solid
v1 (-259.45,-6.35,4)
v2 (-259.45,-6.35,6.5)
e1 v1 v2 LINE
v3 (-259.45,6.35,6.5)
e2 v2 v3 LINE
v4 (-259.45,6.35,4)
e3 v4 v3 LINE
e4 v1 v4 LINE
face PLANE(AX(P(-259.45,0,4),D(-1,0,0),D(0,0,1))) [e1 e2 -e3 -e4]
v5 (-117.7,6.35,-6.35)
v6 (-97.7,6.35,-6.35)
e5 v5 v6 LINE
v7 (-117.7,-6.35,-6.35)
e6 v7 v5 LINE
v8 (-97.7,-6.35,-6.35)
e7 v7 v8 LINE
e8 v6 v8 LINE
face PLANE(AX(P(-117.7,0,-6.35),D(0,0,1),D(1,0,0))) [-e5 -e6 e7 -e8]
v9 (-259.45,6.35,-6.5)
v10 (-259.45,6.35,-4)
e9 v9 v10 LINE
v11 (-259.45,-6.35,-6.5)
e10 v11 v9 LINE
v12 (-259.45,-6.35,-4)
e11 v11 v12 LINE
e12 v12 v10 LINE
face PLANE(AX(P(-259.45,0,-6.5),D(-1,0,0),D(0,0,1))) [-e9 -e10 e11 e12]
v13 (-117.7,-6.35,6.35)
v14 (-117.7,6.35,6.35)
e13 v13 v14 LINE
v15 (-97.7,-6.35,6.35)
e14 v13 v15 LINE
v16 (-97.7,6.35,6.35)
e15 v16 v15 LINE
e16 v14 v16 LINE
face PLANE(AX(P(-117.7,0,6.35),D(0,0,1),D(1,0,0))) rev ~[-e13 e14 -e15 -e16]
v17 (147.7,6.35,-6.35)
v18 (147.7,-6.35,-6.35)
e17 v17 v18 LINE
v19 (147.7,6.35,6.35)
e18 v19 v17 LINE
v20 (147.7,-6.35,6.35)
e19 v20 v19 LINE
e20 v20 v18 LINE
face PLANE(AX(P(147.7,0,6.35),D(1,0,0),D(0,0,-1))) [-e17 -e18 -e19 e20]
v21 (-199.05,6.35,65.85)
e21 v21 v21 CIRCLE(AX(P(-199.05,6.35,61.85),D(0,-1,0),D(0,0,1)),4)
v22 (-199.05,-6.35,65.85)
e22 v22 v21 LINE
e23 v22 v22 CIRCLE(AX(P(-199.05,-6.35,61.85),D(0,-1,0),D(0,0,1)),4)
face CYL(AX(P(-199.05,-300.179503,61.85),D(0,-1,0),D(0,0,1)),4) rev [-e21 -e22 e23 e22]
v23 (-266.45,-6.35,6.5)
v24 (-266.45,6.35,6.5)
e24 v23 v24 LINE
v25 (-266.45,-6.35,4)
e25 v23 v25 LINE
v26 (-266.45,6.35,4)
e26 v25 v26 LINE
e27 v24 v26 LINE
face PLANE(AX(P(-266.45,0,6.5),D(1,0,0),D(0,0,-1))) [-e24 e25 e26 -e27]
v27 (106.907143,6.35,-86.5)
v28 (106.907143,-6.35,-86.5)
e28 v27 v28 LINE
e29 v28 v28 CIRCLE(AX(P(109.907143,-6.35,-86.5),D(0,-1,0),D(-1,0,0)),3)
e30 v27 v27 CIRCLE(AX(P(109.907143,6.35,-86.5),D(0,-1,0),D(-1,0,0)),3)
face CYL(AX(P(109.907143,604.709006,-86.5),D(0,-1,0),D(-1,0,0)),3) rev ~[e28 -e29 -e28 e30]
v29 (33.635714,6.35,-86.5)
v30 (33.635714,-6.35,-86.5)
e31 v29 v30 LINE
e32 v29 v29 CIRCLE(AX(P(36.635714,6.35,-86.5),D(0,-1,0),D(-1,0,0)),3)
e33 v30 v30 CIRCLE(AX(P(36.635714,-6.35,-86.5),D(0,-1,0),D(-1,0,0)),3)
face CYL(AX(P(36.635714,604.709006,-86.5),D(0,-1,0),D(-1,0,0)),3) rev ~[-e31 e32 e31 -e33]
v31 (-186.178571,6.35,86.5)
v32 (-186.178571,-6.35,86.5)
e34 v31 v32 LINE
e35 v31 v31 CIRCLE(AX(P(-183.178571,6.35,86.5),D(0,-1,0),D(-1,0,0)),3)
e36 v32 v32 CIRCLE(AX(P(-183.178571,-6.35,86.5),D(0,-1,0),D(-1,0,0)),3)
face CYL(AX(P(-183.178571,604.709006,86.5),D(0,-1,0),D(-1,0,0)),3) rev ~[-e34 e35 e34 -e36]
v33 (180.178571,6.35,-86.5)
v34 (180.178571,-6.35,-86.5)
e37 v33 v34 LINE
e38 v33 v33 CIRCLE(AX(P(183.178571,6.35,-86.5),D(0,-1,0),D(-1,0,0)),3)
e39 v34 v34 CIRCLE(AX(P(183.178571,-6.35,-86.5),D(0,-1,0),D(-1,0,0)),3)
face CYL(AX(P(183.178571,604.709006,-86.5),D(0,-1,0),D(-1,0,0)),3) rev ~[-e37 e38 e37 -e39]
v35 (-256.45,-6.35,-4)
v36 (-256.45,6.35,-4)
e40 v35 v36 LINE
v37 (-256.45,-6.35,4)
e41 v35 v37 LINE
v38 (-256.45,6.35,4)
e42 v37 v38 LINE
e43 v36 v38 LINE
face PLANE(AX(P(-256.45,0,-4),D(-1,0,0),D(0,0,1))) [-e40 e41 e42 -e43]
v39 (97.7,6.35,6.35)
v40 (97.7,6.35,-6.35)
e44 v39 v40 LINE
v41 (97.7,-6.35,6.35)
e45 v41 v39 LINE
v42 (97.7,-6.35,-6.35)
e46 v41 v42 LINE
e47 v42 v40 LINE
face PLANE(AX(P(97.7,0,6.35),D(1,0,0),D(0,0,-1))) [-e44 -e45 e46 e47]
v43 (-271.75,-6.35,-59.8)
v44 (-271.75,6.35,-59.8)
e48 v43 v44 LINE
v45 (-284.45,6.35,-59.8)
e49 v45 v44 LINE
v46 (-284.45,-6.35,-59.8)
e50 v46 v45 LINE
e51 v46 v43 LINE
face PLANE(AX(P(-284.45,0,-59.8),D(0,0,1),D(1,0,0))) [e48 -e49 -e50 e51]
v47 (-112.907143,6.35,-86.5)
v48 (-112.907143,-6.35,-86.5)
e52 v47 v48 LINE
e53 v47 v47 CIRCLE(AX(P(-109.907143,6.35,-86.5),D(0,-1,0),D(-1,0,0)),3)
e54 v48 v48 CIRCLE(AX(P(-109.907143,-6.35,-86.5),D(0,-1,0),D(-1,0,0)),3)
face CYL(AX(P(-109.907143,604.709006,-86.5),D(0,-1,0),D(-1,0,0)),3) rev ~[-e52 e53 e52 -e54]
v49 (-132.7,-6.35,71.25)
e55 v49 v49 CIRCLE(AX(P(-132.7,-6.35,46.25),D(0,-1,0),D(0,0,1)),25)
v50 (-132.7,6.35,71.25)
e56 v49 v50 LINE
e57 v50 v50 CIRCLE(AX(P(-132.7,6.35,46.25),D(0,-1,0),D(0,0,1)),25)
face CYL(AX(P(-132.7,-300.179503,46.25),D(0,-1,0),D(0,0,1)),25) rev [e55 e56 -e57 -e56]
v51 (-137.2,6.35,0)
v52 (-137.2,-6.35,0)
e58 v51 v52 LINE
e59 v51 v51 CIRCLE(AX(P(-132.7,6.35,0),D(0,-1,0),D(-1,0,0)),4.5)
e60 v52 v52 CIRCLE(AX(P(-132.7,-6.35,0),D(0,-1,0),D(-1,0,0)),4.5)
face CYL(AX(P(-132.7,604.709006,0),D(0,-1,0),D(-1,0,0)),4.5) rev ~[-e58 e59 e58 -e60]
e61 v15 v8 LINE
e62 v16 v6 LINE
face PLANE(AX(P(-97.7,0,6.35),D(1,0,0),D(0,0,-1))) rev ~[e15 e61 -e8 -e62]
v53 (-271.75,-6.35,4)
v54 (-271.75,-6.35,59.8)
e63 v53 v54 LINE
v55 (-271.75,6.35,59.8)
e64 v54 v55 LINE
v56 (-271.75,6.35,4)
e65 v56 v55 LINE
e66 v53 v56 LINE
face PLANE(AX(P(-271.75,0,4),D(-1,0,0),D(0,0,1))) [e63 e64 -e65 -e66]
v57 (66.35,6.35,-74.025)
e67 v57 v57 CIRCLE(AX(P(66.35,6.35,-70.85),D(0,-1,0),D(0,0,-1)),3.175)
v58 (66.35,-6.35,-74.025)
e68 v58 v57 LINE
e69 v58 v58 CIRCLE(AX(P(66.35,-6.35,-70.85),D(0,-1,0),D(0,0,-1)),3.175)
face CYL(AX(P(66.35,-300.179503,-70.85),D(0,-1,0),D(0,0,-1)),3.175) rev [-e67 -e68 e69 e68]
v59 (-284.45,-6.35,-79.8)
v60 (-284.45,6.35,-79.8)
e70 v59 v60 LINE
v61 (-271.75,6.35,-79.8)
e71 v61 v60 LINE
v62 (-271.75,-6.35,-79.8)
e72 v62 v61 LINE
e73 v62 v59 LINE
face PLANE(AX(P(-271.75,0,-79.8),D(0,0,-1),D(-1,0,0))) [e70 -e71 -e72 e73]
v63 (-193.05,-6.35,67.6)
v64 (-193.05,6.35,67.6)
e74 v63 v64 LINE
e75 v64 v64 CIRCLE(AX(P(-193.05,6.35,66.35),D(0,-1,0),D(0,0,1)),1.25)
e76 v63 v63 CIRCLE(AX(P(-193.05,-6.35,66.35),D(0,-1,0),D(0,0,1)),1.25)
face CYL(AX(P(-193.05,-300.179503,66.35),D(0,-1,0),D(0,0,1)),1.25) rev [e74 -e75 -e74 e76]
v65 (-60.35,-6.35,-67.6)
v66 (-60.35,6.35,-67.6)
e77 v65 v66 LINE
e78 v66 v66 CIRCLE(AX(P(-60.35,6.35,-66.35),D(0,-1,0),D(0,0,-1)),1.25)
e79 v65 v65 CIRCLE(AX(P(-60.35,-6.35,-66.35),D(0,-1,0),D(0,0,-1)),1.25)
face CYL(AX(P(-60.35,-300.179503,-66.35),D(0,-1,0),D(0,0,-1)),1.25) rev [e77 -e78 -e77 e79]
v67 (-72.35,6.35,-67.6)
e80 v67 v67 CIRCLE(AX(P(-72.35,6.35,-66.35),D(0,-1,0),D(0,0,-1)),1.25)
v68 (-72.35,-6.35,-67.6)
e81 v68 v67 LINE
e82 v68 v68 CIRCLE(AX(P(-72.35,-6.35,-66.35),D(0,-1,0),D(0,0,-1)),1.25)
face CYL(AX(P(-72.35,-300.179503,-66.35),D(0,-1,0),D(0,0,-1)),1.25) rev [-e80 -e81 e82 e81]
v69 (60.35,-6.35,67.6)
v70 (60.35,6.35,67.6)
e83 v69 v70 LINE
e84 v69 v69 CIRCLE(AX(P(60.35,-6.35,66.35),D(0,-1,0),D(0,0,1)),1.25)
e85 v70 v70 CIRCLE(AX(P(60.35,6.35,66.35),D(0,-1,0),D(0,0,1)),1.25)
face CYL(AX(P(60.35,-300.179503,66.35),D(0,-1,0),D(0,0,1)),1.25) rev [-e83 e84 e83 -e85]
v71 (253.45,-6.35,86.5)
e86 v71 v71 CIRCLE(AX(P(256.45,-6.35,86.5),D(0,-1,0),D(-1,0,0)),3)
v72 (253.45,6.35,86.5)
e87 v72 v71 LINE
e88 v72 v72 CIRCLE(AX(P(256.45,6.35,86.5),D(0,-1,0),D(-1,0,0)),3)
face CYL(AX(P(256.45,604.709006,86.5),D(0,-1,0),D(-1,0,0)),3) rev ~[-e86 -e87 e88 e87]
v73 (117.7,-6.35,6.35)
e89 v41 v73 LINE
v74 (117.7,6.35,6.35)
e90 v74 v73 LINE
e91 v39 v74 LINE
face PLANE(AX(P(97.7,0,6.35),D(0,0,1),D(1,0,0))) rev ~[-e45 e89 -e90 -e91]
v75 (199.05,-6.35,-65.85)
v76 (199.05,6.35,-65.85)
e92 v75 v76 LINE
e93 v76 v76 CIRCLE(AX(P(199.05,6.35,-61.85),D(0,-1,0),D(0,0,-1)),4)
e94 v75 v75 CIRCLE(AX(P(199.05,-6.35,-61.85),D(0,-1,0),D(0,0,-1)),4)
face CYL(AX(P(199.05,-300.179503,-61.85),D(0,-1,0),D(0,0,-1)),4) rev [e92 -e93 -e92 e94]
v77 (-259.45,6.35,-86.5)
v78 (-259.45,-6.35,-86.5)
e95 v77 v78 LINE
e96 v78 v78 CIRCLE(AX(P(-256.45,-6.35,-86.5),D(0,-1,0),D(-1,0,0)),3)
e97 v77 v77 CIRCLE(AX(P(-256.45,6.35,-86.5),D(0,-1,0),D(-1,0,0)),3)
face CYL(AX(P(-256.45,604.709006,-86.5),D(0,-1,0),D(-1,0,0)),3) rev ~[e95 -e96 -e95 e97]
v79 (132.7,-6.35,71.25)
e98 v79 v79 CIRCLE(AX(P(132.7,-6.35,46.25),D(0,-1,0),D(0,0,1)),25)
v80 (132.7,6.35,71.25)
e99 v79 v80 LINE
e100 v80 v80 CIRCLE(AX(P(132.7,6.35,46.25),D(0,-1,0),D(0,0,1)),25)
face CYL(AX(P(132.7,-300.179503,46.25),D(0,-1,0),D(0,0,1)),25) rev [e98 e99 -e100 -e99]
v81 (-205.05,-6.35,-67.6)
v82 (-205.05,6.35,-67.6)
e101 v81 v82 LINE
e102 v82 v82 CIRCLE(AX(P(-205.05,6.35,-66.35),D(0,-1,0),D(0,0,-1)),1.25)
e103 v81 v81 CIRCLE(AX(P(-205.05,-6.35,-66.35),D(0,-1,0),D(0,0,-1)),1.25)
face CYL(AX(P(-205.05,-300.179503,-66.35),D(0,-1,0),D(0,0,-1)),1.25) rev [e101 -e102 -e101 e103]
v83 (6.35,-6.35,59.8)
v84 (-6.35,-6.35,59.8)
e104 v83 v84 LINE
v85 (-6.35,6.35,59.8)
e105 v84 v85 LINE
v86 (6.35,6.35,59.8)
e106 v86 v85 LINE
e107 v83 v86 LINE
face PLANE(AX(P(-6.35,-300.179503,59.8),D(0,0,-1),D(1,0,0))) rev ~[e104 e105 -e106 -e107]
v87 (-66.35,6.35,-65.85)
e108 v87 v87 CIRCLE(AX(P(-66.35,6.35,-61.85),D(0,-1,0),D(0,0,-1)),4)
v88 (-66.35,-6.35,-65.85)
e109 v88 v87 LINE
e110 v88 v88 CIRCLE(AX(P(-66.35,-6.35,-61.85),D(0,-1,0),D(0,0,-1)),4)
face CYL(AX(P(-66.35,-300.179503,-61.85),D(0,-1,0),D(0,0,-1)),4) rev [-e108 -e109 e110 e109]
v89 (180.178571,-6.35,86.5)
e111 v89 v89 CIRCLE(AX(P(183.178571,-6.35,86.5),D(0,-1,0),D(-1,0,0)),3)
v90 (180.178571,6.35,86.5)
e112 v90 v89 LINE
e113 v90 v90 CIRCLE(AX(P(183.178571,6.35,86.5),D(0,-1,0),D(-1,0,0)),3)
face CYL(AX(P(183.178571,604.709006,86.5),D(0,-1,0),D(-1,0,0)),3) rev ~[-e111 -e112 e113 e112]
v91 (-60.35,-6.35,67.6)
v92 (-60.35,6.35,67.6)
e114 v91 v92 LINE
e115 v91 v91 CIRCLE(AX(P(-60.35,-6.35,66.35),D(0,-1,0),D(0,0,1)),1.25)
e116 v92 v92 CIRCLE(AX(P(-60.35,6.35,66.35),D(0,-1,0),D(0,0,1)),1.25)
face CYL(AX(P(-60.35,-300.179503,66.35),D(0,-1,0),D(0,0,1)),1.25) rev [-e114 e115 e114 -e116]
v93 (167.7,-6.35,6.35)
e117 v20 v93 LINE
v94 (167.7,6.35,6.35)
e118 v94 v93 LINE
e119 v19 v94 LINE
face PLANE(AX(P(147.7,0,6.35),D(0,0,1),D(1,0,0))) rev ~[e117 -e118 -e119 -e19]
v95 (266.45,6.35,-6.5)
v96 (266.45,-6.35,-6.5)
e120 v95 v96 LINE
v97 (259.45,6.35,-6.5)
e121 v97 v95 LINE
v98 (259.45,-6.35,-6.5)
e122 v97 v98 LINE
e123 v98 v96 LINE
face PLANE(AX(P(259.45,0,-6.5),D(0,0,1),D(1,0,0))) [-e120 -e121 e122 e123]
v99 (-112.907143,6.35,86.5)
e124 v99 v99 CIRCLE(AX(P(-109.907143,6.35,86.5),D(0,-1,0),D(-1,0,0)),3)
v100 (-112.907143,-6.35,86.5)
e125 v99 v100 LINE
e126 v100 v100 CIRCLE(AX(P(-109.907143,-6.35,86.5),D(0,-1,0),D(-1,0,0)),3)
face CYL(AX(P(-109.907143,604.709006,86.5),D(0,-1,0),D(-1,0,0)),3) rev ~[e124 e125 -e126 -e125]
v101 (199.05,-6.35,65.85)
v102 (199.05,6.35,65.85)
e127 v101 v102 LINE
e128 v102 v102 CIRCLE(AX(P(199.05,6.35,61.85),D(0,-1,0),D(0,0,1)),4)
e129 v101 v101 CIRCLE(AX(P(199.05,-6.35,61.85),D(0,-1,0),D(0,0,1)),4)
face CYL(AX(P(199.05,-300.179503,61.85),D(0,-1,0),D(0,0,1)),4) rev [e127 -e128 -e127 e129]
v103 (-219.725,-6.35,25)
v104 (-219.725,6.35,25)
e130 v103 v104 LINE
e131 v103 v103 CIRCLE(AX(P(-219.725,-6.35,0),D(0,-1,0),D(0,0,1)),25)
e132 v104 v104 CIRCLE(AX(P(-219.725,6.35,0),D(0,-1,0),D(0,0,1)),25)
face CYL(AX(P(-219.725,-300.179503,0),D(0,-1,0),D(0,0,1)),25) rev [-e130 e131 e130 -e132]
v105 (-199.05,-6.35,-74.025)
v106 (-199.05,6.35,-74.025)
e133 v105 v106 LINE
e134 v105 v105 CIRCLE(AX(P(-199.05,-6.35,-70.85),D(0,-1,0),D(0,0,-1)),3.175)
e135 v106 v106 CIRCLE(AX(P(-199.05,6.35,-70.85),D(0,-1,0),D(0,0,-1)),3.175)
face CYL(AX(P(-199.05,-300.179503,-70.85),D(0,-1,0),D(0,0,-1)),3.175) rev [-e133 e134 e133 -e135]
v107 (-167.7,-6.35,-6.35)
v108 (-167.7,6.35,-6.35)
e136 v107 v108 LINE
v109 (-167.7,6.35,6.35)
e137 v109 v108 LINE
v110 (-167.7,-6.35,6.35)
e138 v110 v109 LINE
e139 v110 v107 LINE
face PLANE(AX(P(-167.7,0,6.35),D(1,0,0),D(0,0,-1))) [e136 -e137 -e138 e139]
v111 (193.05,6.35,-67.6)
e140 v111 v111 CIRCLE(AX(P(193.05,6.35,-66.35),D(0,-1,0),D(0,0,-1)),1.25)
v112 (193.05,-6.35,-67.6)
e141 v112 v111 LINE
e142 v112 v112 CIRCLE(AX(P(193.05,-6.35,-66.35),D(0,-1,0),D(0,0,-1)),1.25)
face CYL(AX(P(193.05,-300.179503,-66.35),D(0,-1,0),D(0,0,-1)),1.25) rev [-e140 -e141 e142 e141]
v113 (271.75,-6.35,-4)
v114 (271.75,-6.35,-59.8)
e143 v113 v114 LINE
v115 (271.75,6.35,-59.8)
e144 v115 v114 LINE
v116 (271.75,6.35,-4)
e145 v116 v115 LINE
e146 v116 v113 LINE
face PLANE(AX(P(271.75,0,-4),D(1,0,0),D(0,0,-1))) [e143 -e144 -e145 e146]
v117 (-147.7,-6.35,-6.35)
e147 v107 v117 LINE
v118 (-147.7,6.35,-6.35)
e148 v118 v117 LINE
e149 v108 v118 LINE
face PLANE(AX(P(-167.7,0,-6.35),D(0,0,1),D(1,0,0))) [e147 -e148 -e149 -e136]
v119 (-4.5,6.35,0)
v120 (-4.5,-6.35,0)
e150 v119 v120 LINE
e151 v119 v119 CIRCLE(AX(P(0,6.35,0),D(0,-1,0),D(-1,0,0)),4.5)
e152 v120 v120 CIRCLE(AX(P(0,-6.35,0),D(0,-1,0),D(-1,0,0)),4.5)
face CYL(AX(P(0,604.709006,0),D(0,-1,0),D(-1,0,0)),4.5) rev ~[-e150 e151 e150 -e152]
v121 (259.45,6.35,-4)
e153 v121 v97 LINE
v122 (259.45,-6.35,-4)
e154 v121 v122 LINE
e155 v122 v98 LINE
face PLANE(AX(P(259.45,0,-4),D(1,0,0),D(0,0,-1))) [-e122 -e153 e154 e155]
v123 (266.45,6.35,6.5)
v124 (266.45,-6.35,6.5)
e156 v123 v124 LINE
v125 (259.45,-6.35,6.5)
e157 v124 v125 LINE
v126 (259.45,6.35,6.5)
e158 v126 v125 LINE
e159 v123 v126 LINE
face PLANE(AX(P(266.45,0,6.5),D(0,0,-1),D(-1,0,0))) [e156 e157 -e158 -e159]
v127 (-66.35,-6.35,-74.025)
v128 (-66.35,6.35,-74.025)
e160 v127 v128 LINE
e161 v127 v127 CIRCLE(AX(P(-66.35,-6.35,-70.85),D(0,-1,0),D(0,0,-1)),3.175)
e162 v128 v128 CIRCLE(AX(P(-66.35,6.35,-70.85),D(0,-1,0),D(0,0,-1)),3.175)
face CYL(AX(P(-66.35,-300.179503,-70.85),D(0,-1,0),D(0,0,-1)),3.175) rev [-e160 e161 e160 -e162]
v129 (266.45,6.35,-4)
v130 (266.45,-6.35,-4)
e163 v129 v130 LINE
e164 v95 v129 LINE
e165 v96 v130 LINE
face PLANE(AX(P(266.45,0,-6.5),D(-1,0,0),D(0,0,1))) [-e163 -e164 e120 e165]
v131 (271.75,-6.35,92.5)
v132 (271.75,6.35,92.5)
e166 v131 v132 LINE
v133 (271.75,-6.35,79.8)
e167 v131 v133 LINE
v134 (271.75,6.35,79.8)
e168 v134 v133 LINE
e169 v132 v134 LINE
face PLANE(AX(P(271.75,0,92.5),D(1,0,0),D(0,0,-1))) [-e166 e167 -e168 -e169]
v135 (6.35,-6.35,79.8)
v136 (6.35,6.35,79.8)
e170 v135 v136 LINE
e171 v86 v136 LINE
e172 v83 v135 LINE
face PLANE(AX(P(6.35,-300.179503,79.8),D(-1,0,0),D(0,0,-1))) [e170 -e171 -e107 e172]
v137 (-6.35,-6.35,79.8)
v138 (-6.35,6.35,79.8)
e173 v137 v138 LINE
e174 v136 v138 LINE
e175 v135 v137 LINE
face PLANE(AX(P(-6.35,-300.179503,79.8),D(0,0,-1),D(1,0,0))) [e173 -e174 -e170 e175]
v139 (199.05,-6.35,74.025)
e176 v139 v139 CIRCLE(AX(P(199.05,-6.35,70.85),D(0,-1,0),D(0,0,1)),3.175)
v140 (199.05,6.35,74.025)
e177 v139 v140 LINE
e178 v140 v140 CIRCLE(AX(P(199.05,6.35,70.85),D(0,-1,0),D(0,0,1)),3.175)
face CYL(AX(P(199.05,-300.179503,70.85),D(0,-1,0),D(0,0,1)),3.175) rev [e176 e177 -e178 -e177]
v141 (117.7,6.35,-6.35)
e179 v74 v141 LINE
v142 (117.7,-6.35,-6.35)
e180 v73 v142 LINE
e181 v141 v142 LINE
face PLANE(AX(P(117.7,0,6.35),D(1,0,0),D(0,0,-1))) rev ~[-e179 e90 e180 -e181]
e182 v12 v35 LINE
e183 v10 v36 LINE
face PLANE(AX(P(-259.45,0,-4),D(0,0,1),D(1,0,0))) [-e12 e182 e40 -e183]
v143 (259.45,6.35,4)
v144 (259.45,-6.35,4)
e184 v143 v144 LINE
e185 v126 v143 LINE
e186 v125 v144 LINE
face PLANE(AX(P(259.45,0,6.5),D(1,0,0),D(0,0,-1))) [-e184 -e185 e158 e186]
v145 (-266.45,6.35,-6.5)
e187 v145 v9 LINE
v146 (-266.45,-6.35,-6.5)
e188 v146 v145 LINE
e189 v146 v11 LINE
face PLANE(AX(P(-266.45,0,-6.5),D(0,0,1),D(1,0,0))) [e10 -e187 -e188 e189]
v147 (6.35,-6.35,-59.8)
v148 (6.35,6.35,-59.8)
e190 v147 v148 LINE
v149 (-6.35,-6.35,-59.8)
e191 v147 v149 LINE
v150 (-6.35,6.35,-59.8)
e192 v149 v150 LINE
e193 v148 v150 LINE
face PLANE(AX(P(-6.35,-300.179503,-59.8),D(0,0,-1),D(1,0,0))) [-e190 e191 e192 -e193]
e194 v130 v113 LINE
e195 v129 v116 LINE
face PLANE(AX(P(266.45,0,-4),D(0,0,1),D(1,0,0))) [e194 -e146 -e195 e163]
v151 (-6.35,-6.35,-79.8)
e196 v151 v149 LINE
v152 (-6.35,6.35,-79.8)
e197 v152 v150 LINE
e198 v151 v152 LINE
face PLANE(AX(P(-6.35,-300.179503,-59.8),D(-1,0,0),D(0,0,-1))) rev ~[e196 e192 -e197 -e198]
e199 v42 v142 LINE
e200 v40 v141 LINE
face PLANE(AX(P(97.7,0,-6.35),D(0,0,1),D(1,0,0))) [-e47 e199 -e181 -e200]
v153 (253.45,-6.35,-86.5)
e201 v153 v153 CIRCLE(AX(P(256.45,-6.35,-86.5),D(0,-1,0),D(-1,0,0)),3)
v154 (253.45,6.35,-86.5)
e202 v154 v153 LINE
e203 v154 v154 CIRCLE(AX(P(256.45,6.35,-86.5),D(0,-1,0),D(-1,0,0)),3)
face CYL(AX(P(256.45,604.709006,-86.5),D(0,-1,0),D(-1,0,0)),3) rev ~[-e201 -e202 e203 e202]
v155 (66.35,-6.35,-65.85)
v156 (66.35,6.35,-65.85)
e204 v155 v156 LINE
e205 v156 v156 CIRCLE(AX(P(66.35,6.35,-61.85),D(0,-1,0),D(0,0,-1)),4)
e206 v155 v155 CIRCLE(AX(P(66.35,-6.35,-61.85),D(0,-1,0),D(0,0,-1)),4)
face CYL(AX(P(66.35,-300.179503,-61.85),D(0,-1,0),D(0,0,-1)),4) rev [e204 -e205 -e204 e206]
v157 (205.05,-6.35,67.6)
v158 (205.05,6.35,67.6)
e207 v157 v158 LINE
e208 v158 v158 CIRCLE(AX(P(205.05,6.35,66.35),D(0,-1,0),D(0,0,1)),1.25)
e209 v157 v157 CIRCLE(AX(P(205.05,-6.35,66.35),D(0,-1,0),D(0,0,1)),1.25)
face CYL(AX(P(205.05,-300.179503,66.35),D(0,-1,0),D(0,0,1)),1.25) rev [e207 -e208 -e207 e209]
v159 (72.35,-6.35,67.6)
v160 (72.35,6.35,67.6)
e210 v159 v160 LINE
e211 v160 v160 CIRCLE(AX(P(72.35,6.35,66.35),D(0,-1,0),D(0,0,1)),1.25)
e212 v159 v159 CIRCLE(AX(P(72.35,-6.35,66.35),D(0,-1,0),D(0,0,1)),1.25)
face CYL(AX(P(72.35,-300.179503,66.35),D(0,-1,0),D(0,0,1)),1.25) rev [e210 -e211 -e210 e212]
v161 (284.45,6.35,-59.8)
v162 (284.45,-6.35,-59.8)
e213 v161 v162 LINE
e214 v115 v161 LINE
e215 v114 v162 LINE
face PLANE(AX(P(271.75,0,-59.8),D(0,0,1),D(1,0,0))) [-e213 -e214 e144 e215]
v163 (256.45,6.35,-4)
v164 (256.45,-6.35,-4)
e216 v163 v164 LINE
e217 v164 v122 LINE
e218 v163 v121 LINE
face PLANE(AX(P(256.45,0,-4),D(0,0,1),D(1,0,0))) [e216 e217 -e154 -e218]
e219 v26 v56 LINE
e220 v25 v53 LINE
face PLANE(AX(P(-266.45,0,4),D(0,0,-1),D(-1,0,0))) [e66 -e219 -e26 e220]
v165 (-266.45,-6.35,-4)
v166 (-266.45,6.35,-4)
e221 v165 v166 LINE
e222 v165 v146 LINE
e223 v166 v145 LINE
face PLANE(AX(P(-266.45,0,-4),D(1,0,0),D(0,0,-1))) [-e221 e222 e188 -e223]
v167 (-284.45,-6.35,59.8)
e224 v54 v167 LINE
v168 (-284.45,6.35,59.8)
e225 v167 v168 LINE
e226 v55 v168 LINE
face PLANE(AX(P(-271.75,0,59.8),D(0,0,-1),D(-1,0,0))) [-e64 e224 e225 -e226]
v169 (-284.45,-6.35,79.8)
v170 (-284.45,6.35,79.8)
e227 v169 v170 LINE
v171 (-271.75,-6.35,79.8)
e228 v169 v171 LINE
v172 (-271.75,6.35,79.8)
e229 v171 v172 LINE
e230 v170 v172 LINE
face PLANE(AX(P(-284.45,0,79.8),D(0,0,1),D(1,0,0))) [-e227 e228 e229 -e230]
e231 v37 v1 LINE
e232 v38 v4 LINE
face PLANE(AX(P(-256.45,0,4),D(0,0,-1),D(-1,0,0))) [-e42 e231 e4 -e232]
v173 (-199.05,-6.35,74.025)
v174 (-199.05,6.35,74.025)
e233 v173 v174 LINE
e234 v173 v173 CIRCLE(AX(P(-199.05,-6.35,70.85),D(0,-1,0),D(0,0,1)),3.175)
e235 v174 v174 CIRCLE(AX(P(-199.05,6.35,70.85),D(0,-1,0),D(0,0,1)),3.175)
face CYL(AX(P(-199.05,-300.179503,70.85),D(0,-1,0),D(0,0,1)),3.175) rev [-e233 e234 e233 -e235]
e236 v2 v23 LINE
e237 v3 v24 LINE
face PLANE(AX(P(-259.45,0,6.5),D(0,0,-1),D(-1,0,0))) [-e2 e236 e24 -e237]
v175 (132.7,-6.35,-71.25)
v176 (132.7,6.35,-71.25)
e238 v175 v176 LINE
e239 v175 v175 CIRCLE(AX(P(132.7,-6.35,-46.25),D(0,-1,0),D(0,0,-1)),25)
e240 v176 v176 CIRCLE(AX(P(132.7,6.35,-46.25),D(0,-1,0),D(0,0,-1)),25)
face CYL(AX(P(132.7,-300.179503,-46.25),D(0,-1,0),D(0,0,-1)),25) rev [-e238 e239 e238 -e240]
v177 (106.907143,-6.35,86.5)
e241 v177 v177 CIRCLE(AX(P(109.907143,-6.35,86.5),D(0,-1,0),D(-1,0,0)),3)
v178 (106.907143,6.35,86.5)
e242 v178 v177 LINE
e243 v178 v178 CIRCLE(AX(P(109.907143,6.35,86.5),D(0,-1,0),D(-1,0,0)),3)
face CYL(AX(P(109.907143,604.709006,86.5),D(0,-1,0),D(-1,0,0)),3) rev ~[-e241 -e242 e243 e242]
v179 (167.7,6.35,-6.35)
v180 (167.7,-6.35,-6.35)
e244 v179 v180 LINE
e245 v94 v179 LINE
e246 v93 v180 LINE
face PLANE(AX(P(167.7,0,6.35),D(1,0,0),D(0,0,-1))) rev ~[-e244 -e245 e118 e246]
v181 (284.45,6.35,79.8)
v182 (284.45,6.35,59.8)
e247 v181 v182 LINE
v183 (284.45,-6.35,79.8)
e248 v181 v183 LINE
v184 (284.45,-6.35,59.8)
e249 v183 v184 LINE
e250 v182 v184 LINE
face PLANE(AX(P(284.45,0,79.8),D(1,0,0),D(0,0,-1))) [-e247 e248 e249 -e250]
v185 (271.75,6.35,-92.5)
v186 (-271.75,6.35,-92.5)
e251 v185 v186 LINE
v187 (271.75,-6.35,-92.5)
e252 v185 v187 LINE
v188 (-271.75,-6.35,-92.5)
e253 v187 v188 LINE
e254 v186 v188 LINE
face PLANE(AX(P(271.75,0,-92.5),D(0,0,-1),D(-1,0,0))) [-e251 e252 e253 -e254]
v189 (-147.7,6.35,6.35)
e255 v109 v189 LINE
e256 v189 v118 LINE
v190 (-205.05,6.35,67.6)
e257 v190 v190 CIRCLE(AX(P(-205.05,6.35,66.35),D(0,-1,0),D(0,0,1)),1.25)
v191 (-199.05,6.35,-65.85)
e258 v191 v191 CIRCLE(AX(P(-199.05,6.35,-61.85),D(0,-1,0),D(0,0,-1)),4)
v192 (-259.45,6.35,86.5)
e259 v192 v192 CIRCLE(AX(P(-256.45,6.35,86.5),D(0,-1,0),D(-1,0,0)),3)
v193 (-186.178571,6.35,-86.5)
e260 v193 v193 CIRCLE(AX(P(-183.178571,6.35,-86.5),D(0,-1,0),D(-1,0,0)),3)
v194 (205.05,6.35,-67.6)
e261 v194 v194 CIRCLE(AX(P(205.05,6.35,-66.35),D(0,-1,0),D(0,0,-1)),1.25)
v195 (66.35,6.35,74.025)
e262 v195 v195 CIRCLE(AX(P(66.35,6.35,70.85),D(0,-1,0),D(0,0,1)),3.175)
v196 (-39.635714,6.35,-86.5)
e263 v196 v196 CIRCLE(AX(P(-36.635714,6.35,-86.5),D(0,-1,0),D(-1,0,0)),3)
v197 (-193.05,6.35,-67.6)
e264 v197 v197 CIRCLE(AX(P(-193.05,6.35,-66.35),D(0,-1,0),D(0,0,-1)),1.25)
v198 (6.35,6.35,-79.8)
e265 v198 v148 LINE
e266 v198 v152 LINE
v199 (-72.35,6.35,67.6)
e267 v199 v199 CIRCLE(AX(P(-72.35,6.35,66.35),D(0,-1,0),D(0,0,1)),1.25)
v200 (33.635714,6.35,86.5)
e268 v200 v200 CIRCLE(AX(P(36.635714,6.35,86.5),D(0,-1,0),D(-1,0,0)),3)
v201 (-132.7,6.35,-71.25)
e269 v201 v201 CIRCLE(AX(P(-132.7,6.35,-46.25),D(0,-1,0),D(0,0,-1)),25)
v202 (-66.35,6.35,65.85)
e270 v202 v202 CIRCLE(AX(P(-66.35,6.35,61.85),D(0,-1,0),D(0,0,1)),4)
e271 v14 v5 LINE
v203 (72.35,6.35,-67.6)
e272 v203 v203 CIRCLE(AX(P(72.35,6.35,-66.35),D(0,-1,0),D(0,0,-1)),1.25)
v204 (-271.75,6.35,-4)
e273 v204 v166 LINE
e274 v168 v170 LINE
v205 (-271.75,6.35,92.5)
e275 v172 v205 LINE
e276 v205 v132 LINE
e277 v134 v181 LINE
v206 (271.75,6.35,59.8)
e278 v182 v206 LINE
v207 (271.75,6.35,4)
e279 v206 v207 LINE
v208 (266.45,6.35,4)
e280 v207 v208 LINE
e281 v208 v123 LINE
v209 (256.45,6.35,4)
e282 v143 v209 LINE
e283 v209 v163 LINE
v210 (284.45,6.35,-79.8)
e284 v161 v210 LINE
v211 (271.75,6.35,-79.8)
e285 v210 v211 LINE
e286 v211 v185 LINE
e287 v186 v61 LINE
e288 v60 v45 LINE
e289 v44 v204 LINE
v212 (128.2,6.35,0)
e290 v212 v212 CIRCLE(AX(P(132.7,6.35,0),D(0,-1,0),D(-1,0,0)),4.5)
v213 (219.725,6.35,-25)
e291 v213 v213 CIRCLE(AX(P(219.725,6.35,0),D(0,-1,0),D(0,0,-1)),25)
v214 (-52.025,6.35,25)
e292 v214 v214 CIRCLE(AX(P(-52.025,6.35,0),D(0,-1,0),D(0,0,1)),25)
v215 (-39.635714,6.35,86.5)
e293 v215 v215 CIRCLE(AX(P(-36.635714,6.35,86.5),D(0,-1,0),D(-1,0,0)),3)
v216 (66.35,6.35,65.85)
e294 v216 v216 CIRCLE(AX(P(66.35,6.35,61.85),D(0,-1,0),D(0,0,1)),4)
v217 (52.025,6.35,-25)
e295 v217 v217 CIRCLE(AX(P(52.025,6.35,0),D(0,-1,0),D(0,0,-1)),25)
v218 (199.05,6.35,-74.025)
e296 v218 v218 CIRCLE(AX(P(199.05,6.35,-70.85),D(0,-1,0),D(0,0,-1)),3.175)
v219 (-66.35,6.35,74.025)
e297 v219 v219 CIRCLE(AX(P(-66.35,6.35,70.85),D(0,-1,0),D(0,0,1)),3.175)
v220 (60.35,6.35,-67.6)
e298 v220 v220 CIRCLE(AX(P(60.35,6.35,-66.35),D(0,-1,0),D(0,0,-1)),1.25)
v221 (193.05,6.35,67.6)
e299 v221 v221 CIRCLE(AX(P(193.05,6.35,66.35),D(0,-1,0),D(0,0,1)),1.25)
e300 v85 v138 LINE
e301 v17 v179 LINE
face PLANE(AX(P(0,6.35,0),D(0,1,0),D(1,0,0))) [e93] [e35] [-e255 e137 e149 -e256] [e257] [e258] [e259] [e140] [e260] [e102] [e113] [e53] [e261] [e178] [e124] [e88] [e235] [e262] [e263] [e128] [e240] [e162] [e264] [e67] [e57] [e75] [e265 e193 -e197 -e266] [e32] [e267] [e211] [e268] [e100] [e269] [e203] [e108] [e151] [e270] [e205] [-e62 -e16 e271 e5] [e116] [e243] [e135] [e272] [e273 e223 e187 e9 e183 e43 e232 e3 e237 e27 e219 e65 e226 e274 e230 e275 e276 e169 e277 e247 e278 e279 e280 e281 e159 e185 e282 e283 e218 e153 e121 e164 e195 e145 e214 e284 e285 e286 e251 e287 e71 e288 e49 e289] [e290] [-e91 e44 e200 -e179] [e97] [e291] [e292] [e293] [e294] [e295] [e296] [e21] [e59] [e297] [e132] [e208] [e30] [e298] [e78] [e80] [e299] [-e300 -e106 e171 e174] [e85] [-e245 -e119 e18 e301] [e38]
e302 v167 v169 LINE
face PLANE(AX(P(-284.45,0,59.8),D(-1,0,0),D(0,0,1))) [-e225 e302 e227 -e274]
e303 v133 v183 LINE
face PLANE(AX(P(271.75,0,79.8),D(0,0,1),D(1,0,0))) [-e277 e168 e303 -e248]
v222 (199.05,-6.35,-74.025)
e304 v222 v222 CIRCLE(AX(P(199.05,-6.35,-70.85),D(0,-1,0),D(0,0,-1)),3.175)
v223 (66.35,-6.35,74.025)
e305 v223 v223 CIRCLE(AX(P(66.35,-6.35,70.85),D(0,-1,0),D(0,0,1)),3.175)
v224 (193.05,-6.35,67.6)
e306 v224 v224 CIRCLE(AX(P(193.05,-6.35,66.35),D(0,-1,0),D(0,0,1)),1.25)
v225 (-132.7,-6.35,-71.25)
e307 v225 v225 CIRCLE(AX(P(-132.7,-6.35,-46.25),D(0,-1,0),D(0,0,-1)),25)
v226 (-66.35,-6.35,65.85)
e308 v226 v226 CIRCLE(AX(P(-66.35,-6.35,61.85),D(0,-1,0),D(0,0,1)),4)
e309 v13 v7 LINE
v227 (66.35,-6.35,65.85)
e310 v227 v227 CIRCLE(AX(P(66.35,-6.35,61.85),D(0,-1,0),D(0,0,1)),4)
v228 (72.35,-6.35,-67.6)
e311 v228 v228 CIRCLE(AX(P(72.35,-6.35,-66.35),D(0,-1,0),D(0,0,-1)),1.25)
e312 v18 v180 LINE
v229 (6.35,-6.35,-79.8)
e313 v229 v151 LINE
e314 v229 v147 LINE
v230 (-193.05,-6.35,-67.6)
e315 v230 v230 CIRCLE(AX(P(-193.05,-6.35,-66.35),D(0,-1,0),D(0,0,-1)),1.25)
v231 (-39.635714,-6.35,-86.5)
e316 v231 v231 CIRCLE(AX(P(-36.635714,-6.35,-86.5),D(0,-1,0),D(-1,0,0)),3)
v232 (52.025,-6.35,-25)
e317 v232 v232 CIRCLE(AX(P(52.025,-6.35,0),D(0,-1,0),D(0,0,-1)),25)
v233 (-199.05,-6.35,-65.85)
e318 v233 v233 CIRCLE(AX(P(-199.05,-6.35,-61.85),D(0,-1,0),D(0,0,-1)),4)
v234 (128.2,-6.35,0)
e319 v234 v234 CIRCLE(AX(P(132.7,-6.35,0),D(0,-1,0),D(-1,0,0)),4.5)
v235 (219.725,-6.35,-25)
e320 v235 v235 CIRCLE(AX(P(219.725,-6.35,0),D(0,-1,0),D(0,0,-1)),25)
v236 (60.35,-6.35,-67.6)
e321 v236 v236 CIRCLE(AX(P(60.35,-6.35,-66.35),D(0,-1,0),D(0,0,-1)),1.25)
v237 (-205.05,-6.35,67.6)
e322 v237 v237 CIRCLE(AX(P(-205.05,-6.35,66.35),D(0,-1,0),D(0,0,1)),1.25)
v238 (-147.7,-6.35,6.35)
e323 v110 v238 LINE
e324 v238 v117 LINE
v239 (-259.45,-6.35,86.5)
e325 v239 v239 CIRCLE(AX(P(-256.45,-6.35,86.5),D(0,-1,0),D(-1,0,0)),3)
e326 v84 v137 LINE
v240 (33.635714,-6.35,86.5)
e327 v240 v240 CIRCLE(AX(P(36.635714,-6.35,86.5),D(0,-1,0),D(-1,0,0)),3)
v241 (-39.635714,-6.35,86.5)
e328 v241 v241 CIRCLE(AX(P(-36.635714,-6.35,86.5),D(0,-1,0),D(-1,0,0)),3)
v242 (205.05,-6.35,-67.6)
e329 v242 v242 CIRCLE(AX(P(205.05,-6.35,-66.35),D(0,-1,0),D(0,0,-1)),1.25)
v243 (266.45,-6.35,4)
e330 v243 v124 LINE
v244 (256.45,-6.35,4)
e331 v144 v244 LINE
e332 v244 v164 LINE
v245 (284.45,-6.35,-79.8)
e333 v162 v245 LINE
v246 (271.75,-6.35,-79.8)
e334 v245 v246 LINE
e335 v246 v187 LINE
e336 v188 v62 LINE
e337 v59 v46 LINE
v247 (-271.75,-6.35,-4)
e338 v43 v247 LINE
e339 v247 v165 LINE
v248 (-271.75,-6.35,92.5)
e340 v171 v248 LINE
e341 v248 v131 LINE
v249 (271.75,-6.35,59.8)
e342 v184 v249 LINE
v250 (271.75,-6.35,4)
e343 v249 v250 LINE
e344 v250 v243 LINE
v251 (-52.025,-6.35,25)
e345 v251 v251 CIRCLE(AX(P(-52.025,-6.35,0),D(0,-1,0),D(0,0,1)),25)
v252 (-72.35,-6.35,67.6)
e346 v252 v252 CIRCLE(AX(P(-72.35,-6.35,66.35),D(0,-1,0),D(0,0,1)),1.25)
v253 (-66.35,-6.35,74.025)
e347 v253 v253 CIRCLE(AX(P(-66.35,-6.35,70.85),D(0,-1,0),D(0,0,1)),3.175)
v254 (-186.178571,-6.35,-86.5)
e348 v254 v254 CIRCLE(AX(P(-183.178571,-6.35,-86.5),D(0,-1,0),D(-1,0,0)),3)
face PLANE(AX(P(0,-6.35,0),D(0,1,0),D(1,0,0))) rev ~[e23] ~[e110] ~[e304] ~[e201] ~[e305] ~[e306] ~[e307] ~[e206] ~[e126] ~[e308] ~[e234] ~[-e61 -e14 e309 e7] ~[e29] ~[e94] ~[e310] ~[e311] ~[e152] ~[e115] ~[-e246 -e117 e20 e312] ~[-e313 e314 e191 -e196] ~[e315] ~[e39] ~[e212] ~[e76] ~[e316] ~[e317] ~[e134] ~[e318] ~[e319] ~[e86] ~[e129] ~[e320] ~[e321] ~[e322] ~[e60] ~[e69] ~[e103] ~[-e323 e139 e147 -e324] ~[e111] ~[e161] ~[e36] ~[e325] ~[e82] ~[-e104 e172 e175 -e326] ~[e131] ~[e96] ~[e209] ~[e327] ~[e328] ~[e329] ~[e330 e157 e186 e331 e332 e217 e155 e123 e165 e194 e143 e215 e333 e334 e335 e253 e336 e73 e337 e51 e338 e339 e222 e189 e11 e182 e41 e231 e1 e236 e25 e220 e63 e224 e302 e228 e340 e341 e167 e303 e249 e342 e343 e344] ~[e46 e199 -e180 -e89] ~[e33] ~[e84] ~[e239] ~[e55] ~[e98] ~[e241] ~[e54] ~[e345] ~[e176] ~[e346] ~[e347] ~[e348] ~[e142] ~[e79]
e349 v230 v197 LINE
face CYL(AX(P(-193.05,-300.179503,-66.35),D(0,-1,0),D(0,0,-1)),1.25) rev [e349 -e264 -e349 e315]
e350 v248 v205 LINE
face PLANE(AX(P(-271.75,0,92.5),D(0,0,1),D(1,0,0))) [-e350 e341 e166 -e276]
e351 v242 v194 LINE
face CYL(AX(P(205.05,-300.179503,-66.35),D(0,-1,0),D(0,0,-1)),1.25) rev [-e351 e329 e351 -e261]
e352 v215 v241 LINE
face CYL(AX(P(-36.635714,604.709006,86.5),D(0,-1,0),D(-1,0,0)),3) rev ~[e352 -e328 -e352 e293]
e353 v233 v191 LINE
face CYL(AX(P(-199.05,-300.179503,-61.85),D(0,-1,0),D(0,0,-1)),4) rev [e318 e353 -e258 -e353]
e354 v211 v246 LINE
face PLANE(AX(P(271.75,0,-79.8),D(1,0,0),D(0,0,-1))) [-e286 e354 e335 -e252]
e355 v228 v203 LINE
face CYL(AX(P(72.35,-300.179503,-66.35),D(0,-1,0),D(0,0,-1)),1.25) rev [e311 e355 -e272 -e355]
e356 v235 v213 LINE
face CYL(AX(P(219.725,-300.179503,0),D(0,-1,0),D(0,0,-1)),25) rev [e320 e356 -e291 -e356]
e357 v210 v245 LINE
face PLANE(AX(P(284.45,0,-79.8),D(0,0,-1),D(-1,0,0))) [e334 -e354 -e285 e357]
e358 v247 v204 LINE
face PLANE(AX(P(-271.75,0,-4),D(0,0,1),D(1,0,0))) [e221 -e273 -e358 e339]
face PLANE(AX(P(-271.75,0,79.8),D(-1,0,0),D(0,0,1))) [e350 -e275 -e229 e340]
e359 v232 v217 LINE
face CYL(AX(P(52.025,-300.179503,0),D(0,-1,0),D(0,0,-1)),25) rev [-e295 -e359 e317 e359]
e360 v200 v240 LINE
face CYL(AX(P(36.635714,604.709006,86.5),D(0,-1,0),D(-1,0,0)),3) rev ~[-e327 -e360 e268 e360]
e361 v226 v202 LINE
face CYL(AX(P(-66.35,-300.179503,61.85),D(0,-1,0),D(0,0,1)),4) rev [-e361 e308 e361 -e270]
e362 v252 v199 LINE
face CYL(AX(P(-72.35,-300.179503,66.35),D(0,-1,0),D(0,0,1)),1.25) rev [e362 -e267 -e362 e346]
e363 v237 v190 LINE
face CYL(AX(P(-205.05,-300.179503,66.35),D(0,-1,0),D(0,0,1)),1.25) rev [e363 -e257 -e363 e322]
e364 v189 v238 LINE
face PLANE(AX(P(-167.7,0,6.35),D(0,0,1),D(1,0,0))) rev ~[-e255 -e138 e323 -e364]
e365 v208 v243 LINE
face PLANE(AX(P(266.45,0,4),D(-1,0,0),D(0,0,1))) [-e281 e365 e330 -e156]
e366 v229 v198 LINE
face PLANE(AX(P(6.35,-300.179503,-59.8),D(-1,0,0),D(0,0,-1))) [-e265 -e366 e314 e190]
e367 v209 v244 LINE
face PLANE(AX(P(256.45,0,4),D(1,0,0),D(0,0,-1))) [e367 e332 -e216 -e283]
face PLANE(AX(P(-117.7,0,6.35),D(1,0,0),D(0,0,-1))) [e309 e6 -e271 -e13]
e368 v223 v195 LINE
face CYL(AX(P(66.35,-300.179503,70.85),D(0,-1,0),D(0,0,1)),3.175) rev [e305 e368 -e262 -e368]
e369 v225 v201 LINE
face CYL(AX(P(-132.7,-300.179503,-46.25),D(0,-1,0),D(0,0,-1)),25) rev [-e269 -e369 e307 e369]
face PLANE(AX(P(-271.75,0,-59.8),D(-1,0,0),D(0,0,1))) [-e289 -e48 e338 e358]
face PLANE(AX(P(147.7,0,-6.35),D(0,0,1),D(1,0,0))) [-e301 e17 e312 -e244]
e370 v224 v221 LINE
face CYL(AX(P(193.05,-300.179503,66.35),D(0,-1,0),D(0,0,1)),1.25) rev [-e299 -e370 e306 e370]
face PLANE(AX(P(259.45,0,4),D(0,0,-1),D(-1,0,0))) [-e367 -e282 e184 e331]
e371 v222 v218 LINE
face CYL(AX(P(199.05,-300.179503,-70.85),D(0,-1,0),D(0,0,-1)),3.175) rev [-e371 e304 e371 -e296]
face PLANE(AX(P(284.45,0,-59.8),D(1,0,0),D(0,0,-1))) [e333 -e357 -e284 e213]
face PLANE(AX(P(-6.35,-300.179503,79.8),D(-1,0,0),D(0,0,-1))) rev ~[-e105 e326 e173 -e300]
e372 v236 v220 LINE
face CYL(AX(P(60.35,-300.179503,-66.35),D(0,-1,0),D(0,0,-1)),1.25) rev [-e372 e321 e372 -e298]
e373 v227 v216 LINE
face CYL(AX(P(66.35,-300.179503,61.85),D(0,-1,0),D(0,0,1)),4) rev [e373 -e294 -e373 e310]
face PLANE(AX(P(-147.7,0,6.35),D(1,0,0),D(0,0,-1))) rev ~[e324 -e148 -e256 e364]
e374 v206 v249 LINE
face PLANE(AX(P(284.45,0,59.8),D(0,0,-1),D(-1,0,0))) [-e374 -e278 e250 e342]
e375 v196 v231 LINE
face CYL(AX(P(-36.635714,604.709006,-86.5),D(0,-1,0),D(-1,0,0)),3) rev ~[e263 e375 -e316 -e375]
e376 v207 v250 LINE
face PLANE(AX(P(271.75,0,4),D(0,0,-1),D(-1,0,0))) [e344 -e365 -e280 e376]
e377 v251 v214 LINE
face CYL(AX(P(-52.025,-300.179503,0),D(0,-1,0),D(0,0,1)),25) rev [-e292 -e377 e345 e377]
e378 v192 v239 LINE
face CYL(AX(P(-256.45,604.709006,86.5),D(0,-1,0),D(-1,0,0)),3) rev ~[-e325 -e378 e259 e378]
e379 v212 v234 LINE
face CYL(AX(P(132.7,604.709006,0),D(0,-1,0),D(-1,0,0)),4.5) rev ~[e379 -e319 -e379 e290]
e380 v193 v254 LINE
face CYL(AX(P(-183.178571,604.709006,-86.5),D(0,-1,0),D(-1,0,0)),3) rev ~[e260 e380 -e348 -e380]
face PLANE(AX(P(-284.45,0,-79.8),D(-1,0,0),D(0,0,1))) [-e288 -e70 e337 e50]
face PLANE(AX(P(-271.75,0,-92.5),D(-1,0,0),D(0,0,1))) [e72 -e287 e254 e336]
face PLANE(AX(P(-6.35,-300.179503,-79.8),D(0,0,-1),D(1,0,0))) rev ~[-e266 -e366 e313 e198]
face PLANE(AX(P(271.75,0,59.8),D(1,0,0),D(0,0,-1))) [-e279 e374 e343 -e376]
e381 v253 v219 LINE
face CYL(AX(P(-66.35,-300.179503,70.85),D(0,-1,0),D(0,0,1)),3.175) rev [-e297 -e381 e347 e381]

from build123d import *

# Parameters (mm, degrees)
MAIN_5_W                = 20
MAIN_5_H                = 12.7
BOSS_EXTRUDE2_DEPTH     = 6.35
CUT_EXTRUDE1_DEPTH      = 300.179502974
CUT_EXTRUDE1_DEPTH_BACK = 300.179502974
SKETCH1_W               = 12.7
SKETCH1_H               = 20
M8_CLEARANCE_HOLE2_D    = 9
CUT_EXTRUDE2_DEPTH      = 300.179502974
CUT_EXTRUDE2_DEPTH_BACK = 300.179502974
SKETCH6_R               = 4
SKETCH6_R_2             = 3.175
SKETCH6_R_3             = 1.25
CUT_EXTRUDE3_DEPTH      = 300.179502974
CUT_EXTRUDE3_DEPTH_BACK = 300.179502974
SKETCH7_R               = 25
F_6_0MM_DOWEL_HOLE2_D   = 6


with BuildPart() as part:
    # MAIN<5> → Boss-Extrude2 (new, symmetric)
    with BuildSketch(Plane(origin=(0, 0, 0), x_dir=(1, 0, 0), z_dir=(0, 1, 0))):
        Polygon((-271.75, 92.5), (-271.75, 79.8), (-284.45, 79.8), (-284.45, 59.8), (-271.75, 59.8), (-271.75, 4), (-266.45, 4), (-266.45, 6.5), (-259.45, 6.5), (-259.45, 4), (-256.45, 4), (-256.45, -4), (-259.45, -4), (-259.45, -6.5), (-266.45, -6.5), (-266.45, -4), (-271.75, -4), (-271.75, -59.8), (-284.45, -59.8), (-284.45, -79.8), (-271.75, -79.8), (-271.75, -92.5), (271.75, -92.5), (271.75, -79.8), (284.45, -79.8), (284.45, -59.8), (271.75, -59.8), (271.75, -4), (266.45, -4), (266.45, -6.5), (259.45, -6.5), (259.45, -4), (256.45, -4), (256.45, 4), (259.45, 4), (259.45, 6.5), (266.45, 6.5), (266.45, 4), (271.75, 4), (271.75, 59.8), (284.45, 59.8), (284.45, 79.8), (271.75, 79.8), (271.75, 92.5), align=None)
        with Locations((-157.7, 0)):
            Rectangle(MAIN_5_W, MAIN_5_H, mode=Mode.SUBTRACT)
        with Locations((-107.7, 0)):
            Rectangle(MAIN_5_W, MAIN_5_H, mode=Mode.SUBTRACT)
        with Locations((107.7, 0)):
            Rectangle(MAIN_5_W, MAIN_5_H, mode=Mode.SUBTRACT)
        with Locations((157.7, 0)):
            Rectangle(MAIN_5_W, MAIN_5_H, mode=Mode.SUBTRACT)
    extrude(amount=BOSS_EXTRUDE2_DEPTH, both=True)

    # Sketch1 → Cut-Extrude1 (cut, two sides: drawn at the far end of the back side and taken through both)
    with BuildSketch(Plane(origin=(0, 0, 0), x_dir=(1, 0, 0), z_dir=(0, 1, 0)).offset(-CUT_EXTRUDE1_DEPTH_BACK)):
        with Locations((0, 69.8)):
            Rectangle(SKETCH1_W, SKETCH1_H)
        with Locations((0, -69.8)):
            Rectangle(SKETCH1_W, SKETCH1_H)
    extrude(amount=CUT_EXTRUDE1_DEPTH + CUT_EXTRUDE1_DEPTH_BACK, mode=Mode.SUBTRACT)

    # M8 Clearance Hole2 (through all)
    with Locations(Plane(origin=(0, 6.35, 0), x_dir=(1, 0, 0), z_dir=(0, 1, 0))):
        with Locations((-132.7, 0), (132.7, 0), (0, 0)):
            Hole(M8_CLEARANCE_HOLE2_D / 2)

    # Sketch6 → Cut-Extrude2 (cut, two sides: drawn at the far end of the back side and taken through both)
    with BuildSketch(Plane(origin=(0, 0, 0), x_dir=(1, 0, 0), z_dir=(0, 1, 0)).offset(-CUT_EXTRUDE2_DEPTH_BACK)):
        with Locations(Location((-199.05, -61.85, 0), (0, 0, 270))):
            Circle(SKETCH6_R)
        with Locations(Location((-199.05, -70.85, 0), (0, 0, 270))):
            Circle(SKETCH6_R_2)
        with Locations(Location((-205.05, -66.35, 0), (0, 0, 270))):
            Circle(SKETCH6_R_3)
        with Locations(Location((-193.05, -66.35, 0), (0, 0, 270))):
            Circle(SKETCH6_R_3)
        with Locations(Location((-66.35, -70.85, 0), (0, 0, 270))):
            Circle(SKETCH6_R_2)
        with Locations(Location((-66.35, -61.85, 0), (0, 0, 270))):
            Circle(SKETCH6_R)
        with Locations(Location((-72.35, -66.35, 0), (0, 0, 270))):
            Circle(SKETCH6_R_3)
        with Locations(Location((-60.35, -66.35, 0), (0, 0, 270))):
            Circle(SKETCH6_R_3)
        with Locations(Location((66.35, -70.85, 0), (0, 0, 270))):
            Circle(SKETCH6_R_2)
        with Locations(Location((66.35, -61.85, 0), (0, 0, 270))):
            Circle(SKETCH6_R)
        with Locations(Location((60.35, -66.35, 0), (0, 0, 270))):
            Circle(SKETCH6_R_3)
        with Locations(Location((72.35, -66.35, 0), (0, 0, 270))):
            Circle(SKETCH6_R_3)
        with Locations(Location((199.05, -70.85, 0), (0, 0, 270))):
            Circle(SKETCH6_R_2)
        with Locations(Location((199.05, -61.85, 0), (0, 0, 270))):
            Circle(SKETCH6_R)
        with Locations(Location((193.05, -66.35, 0), (0, 0, 270))):
            Circle(SKETCH6_R_3)
        with Locations(Location((205.05, -66.35, 0), (0, 0, 270))):
            Circle(SKETCH6_R_3)
        with Locations(Location((205.05, 66.35, 0), (0, 0, 90))):
            Circle(SKETCH6_R_3)
        with Locations(Location((193.05, 66.35, 0), (0, 0, 90))):
            Circle(SKETCH6_R_3)
        with Locations(Location((199.05, 61.85, 0), (0, 0, 90))):
            Circle(SKETCH6_R)
        with Locations(Location((199.05, 70.85, 0), (0, 0, 90))):
            Circle(SKETCH6_R_2)
        with Locations(Location((72.35, 66.35, 0), (0, 0, 90))):
            Circle(SKETCH6_R_3)
        with Locations(Location((60.35, 66.35, 0), (0, 0, 90))):
            Circle(SKETCH6_R_3)
        with Locations(Location((66.35, 61.85, 0), (0, 0, 90))):
            Circle(SKETCH6_R)
        with Locations(Location((66.35, 70.85, 0), (0, 0, 90))):
            Circle(SKETCH6_R_2)
        with Locations(Location((-60.35, 66.35, 0), (0, 0, 90))):
            Circle(SKETCH6_R_3)
        with Locations(Location((-72.35, 66.35, 0), (0, 0, 90))):
            Circle(SKETCH6_R_3)
        with Locations(Location((-66.35, 61.85, 0), (0, 0, 90))):
            Circle(SKETCH6_R)
        with Locations(Location((-66.35, 70.85, 0), (0, 0, 90))):
            Circle(SKETCH6_R_2)
        with Locations(Location((-193.05, 66.35, 0), (0, 0, 90))):
            Circle(SKETCH6_R_3)
        with Locations(Location((-205.05, 66.35, 0), (0, 0, 90))):
            Circle(SKETCH6_R_3)
        with Locations(Location((-199.05, 70.85, 0), (0, 0, 90))):
            Circle(SKETCH6_R_2)
        with Locations(Location((-199.05, 61.85, 0), (0, 0, 90))):
            Circle(SKETCH6_R)
    extrude(amount=CUT_EXTRUDE2_DEPTH + CUT_EXTRUDE2_DEPTH_BACK, mode=Mode.SUBTRACT)

    # Sketch7 → Cut-Extrude3 (cut, two sides: drawn at the far end of the back side and taken through both)
    with BuildSketch(Plane(origin=(0, 0, 0), x_dir=(1, 0, 0), z_dir=(0, 1, 0)).offset(-CUT_EXTRUDE3_DEPTH_BACK)):
        with Locations(Location((-132.7, -46.25, 0), (0, 0, 270))):
            Circle(SKETCH7_R)
        with Locations(Location((132.7, -46.25, 0), (0, 0, 270))):
            Circle(SKETCH7_R)
        with Locations(Location((132.7, 46.25, 0), (0, 0, 90))):
            Circle(SKETCH7_R)
        with Locations(Location((-132.7, 46.25, 0), (0, 0, 90))):
            Circle(SKETCH7_R)
        with Locations(Location((-219.725, 0, 0), (0, 0, 270))):
            Circle(SKETCH7_R)
        with Locations(Location((-52.025, 0, 0), (0, 0, 270))):
            Circle(SKETCH7_R)
        with Locations(Location((52.025, 0, 0), (0, 0, 90))):
            Circle(SKETCH7_R)
        with Locations(Location((219.725, 0, 0), (0, 0, 90))):
            Circle(SKETCH7_R)
    extrude(amount=CUT_EXTRUDE3_DEPTH + CUT_EXTRUDE3_DEPTH_BACK, mode=Mode.SUBTRACT)

    # Ø6.0mm Dowel Hole2 (through all)
    with Locations(Plane(origin=(0, 6.35, 0), x_dir=(1, 0, 0), z_dir=(0, 1, 0))):
        with Locations((-256.45, -86.5), (-183.178571429, -86.5), (-109.907142857, -86.5), (-36.635714286, -86.5), (36.635714286, -86.5), (109.907142857, -86.5), (183.178571429, -86.5), (256.45, -86.5), (256.45, 86.5), (183.178571429, 86.5), (109.907142857, 86.5), (36.635714286, 86.5), (-36.635714286, 86.5), (-109.907142857, 86.5), (-183.178571429, 86.5), (-256.45, 86.5)):
            Hole(F_6_0MM_DOWEL_HOLE2_D / 2)


solid = part.part
